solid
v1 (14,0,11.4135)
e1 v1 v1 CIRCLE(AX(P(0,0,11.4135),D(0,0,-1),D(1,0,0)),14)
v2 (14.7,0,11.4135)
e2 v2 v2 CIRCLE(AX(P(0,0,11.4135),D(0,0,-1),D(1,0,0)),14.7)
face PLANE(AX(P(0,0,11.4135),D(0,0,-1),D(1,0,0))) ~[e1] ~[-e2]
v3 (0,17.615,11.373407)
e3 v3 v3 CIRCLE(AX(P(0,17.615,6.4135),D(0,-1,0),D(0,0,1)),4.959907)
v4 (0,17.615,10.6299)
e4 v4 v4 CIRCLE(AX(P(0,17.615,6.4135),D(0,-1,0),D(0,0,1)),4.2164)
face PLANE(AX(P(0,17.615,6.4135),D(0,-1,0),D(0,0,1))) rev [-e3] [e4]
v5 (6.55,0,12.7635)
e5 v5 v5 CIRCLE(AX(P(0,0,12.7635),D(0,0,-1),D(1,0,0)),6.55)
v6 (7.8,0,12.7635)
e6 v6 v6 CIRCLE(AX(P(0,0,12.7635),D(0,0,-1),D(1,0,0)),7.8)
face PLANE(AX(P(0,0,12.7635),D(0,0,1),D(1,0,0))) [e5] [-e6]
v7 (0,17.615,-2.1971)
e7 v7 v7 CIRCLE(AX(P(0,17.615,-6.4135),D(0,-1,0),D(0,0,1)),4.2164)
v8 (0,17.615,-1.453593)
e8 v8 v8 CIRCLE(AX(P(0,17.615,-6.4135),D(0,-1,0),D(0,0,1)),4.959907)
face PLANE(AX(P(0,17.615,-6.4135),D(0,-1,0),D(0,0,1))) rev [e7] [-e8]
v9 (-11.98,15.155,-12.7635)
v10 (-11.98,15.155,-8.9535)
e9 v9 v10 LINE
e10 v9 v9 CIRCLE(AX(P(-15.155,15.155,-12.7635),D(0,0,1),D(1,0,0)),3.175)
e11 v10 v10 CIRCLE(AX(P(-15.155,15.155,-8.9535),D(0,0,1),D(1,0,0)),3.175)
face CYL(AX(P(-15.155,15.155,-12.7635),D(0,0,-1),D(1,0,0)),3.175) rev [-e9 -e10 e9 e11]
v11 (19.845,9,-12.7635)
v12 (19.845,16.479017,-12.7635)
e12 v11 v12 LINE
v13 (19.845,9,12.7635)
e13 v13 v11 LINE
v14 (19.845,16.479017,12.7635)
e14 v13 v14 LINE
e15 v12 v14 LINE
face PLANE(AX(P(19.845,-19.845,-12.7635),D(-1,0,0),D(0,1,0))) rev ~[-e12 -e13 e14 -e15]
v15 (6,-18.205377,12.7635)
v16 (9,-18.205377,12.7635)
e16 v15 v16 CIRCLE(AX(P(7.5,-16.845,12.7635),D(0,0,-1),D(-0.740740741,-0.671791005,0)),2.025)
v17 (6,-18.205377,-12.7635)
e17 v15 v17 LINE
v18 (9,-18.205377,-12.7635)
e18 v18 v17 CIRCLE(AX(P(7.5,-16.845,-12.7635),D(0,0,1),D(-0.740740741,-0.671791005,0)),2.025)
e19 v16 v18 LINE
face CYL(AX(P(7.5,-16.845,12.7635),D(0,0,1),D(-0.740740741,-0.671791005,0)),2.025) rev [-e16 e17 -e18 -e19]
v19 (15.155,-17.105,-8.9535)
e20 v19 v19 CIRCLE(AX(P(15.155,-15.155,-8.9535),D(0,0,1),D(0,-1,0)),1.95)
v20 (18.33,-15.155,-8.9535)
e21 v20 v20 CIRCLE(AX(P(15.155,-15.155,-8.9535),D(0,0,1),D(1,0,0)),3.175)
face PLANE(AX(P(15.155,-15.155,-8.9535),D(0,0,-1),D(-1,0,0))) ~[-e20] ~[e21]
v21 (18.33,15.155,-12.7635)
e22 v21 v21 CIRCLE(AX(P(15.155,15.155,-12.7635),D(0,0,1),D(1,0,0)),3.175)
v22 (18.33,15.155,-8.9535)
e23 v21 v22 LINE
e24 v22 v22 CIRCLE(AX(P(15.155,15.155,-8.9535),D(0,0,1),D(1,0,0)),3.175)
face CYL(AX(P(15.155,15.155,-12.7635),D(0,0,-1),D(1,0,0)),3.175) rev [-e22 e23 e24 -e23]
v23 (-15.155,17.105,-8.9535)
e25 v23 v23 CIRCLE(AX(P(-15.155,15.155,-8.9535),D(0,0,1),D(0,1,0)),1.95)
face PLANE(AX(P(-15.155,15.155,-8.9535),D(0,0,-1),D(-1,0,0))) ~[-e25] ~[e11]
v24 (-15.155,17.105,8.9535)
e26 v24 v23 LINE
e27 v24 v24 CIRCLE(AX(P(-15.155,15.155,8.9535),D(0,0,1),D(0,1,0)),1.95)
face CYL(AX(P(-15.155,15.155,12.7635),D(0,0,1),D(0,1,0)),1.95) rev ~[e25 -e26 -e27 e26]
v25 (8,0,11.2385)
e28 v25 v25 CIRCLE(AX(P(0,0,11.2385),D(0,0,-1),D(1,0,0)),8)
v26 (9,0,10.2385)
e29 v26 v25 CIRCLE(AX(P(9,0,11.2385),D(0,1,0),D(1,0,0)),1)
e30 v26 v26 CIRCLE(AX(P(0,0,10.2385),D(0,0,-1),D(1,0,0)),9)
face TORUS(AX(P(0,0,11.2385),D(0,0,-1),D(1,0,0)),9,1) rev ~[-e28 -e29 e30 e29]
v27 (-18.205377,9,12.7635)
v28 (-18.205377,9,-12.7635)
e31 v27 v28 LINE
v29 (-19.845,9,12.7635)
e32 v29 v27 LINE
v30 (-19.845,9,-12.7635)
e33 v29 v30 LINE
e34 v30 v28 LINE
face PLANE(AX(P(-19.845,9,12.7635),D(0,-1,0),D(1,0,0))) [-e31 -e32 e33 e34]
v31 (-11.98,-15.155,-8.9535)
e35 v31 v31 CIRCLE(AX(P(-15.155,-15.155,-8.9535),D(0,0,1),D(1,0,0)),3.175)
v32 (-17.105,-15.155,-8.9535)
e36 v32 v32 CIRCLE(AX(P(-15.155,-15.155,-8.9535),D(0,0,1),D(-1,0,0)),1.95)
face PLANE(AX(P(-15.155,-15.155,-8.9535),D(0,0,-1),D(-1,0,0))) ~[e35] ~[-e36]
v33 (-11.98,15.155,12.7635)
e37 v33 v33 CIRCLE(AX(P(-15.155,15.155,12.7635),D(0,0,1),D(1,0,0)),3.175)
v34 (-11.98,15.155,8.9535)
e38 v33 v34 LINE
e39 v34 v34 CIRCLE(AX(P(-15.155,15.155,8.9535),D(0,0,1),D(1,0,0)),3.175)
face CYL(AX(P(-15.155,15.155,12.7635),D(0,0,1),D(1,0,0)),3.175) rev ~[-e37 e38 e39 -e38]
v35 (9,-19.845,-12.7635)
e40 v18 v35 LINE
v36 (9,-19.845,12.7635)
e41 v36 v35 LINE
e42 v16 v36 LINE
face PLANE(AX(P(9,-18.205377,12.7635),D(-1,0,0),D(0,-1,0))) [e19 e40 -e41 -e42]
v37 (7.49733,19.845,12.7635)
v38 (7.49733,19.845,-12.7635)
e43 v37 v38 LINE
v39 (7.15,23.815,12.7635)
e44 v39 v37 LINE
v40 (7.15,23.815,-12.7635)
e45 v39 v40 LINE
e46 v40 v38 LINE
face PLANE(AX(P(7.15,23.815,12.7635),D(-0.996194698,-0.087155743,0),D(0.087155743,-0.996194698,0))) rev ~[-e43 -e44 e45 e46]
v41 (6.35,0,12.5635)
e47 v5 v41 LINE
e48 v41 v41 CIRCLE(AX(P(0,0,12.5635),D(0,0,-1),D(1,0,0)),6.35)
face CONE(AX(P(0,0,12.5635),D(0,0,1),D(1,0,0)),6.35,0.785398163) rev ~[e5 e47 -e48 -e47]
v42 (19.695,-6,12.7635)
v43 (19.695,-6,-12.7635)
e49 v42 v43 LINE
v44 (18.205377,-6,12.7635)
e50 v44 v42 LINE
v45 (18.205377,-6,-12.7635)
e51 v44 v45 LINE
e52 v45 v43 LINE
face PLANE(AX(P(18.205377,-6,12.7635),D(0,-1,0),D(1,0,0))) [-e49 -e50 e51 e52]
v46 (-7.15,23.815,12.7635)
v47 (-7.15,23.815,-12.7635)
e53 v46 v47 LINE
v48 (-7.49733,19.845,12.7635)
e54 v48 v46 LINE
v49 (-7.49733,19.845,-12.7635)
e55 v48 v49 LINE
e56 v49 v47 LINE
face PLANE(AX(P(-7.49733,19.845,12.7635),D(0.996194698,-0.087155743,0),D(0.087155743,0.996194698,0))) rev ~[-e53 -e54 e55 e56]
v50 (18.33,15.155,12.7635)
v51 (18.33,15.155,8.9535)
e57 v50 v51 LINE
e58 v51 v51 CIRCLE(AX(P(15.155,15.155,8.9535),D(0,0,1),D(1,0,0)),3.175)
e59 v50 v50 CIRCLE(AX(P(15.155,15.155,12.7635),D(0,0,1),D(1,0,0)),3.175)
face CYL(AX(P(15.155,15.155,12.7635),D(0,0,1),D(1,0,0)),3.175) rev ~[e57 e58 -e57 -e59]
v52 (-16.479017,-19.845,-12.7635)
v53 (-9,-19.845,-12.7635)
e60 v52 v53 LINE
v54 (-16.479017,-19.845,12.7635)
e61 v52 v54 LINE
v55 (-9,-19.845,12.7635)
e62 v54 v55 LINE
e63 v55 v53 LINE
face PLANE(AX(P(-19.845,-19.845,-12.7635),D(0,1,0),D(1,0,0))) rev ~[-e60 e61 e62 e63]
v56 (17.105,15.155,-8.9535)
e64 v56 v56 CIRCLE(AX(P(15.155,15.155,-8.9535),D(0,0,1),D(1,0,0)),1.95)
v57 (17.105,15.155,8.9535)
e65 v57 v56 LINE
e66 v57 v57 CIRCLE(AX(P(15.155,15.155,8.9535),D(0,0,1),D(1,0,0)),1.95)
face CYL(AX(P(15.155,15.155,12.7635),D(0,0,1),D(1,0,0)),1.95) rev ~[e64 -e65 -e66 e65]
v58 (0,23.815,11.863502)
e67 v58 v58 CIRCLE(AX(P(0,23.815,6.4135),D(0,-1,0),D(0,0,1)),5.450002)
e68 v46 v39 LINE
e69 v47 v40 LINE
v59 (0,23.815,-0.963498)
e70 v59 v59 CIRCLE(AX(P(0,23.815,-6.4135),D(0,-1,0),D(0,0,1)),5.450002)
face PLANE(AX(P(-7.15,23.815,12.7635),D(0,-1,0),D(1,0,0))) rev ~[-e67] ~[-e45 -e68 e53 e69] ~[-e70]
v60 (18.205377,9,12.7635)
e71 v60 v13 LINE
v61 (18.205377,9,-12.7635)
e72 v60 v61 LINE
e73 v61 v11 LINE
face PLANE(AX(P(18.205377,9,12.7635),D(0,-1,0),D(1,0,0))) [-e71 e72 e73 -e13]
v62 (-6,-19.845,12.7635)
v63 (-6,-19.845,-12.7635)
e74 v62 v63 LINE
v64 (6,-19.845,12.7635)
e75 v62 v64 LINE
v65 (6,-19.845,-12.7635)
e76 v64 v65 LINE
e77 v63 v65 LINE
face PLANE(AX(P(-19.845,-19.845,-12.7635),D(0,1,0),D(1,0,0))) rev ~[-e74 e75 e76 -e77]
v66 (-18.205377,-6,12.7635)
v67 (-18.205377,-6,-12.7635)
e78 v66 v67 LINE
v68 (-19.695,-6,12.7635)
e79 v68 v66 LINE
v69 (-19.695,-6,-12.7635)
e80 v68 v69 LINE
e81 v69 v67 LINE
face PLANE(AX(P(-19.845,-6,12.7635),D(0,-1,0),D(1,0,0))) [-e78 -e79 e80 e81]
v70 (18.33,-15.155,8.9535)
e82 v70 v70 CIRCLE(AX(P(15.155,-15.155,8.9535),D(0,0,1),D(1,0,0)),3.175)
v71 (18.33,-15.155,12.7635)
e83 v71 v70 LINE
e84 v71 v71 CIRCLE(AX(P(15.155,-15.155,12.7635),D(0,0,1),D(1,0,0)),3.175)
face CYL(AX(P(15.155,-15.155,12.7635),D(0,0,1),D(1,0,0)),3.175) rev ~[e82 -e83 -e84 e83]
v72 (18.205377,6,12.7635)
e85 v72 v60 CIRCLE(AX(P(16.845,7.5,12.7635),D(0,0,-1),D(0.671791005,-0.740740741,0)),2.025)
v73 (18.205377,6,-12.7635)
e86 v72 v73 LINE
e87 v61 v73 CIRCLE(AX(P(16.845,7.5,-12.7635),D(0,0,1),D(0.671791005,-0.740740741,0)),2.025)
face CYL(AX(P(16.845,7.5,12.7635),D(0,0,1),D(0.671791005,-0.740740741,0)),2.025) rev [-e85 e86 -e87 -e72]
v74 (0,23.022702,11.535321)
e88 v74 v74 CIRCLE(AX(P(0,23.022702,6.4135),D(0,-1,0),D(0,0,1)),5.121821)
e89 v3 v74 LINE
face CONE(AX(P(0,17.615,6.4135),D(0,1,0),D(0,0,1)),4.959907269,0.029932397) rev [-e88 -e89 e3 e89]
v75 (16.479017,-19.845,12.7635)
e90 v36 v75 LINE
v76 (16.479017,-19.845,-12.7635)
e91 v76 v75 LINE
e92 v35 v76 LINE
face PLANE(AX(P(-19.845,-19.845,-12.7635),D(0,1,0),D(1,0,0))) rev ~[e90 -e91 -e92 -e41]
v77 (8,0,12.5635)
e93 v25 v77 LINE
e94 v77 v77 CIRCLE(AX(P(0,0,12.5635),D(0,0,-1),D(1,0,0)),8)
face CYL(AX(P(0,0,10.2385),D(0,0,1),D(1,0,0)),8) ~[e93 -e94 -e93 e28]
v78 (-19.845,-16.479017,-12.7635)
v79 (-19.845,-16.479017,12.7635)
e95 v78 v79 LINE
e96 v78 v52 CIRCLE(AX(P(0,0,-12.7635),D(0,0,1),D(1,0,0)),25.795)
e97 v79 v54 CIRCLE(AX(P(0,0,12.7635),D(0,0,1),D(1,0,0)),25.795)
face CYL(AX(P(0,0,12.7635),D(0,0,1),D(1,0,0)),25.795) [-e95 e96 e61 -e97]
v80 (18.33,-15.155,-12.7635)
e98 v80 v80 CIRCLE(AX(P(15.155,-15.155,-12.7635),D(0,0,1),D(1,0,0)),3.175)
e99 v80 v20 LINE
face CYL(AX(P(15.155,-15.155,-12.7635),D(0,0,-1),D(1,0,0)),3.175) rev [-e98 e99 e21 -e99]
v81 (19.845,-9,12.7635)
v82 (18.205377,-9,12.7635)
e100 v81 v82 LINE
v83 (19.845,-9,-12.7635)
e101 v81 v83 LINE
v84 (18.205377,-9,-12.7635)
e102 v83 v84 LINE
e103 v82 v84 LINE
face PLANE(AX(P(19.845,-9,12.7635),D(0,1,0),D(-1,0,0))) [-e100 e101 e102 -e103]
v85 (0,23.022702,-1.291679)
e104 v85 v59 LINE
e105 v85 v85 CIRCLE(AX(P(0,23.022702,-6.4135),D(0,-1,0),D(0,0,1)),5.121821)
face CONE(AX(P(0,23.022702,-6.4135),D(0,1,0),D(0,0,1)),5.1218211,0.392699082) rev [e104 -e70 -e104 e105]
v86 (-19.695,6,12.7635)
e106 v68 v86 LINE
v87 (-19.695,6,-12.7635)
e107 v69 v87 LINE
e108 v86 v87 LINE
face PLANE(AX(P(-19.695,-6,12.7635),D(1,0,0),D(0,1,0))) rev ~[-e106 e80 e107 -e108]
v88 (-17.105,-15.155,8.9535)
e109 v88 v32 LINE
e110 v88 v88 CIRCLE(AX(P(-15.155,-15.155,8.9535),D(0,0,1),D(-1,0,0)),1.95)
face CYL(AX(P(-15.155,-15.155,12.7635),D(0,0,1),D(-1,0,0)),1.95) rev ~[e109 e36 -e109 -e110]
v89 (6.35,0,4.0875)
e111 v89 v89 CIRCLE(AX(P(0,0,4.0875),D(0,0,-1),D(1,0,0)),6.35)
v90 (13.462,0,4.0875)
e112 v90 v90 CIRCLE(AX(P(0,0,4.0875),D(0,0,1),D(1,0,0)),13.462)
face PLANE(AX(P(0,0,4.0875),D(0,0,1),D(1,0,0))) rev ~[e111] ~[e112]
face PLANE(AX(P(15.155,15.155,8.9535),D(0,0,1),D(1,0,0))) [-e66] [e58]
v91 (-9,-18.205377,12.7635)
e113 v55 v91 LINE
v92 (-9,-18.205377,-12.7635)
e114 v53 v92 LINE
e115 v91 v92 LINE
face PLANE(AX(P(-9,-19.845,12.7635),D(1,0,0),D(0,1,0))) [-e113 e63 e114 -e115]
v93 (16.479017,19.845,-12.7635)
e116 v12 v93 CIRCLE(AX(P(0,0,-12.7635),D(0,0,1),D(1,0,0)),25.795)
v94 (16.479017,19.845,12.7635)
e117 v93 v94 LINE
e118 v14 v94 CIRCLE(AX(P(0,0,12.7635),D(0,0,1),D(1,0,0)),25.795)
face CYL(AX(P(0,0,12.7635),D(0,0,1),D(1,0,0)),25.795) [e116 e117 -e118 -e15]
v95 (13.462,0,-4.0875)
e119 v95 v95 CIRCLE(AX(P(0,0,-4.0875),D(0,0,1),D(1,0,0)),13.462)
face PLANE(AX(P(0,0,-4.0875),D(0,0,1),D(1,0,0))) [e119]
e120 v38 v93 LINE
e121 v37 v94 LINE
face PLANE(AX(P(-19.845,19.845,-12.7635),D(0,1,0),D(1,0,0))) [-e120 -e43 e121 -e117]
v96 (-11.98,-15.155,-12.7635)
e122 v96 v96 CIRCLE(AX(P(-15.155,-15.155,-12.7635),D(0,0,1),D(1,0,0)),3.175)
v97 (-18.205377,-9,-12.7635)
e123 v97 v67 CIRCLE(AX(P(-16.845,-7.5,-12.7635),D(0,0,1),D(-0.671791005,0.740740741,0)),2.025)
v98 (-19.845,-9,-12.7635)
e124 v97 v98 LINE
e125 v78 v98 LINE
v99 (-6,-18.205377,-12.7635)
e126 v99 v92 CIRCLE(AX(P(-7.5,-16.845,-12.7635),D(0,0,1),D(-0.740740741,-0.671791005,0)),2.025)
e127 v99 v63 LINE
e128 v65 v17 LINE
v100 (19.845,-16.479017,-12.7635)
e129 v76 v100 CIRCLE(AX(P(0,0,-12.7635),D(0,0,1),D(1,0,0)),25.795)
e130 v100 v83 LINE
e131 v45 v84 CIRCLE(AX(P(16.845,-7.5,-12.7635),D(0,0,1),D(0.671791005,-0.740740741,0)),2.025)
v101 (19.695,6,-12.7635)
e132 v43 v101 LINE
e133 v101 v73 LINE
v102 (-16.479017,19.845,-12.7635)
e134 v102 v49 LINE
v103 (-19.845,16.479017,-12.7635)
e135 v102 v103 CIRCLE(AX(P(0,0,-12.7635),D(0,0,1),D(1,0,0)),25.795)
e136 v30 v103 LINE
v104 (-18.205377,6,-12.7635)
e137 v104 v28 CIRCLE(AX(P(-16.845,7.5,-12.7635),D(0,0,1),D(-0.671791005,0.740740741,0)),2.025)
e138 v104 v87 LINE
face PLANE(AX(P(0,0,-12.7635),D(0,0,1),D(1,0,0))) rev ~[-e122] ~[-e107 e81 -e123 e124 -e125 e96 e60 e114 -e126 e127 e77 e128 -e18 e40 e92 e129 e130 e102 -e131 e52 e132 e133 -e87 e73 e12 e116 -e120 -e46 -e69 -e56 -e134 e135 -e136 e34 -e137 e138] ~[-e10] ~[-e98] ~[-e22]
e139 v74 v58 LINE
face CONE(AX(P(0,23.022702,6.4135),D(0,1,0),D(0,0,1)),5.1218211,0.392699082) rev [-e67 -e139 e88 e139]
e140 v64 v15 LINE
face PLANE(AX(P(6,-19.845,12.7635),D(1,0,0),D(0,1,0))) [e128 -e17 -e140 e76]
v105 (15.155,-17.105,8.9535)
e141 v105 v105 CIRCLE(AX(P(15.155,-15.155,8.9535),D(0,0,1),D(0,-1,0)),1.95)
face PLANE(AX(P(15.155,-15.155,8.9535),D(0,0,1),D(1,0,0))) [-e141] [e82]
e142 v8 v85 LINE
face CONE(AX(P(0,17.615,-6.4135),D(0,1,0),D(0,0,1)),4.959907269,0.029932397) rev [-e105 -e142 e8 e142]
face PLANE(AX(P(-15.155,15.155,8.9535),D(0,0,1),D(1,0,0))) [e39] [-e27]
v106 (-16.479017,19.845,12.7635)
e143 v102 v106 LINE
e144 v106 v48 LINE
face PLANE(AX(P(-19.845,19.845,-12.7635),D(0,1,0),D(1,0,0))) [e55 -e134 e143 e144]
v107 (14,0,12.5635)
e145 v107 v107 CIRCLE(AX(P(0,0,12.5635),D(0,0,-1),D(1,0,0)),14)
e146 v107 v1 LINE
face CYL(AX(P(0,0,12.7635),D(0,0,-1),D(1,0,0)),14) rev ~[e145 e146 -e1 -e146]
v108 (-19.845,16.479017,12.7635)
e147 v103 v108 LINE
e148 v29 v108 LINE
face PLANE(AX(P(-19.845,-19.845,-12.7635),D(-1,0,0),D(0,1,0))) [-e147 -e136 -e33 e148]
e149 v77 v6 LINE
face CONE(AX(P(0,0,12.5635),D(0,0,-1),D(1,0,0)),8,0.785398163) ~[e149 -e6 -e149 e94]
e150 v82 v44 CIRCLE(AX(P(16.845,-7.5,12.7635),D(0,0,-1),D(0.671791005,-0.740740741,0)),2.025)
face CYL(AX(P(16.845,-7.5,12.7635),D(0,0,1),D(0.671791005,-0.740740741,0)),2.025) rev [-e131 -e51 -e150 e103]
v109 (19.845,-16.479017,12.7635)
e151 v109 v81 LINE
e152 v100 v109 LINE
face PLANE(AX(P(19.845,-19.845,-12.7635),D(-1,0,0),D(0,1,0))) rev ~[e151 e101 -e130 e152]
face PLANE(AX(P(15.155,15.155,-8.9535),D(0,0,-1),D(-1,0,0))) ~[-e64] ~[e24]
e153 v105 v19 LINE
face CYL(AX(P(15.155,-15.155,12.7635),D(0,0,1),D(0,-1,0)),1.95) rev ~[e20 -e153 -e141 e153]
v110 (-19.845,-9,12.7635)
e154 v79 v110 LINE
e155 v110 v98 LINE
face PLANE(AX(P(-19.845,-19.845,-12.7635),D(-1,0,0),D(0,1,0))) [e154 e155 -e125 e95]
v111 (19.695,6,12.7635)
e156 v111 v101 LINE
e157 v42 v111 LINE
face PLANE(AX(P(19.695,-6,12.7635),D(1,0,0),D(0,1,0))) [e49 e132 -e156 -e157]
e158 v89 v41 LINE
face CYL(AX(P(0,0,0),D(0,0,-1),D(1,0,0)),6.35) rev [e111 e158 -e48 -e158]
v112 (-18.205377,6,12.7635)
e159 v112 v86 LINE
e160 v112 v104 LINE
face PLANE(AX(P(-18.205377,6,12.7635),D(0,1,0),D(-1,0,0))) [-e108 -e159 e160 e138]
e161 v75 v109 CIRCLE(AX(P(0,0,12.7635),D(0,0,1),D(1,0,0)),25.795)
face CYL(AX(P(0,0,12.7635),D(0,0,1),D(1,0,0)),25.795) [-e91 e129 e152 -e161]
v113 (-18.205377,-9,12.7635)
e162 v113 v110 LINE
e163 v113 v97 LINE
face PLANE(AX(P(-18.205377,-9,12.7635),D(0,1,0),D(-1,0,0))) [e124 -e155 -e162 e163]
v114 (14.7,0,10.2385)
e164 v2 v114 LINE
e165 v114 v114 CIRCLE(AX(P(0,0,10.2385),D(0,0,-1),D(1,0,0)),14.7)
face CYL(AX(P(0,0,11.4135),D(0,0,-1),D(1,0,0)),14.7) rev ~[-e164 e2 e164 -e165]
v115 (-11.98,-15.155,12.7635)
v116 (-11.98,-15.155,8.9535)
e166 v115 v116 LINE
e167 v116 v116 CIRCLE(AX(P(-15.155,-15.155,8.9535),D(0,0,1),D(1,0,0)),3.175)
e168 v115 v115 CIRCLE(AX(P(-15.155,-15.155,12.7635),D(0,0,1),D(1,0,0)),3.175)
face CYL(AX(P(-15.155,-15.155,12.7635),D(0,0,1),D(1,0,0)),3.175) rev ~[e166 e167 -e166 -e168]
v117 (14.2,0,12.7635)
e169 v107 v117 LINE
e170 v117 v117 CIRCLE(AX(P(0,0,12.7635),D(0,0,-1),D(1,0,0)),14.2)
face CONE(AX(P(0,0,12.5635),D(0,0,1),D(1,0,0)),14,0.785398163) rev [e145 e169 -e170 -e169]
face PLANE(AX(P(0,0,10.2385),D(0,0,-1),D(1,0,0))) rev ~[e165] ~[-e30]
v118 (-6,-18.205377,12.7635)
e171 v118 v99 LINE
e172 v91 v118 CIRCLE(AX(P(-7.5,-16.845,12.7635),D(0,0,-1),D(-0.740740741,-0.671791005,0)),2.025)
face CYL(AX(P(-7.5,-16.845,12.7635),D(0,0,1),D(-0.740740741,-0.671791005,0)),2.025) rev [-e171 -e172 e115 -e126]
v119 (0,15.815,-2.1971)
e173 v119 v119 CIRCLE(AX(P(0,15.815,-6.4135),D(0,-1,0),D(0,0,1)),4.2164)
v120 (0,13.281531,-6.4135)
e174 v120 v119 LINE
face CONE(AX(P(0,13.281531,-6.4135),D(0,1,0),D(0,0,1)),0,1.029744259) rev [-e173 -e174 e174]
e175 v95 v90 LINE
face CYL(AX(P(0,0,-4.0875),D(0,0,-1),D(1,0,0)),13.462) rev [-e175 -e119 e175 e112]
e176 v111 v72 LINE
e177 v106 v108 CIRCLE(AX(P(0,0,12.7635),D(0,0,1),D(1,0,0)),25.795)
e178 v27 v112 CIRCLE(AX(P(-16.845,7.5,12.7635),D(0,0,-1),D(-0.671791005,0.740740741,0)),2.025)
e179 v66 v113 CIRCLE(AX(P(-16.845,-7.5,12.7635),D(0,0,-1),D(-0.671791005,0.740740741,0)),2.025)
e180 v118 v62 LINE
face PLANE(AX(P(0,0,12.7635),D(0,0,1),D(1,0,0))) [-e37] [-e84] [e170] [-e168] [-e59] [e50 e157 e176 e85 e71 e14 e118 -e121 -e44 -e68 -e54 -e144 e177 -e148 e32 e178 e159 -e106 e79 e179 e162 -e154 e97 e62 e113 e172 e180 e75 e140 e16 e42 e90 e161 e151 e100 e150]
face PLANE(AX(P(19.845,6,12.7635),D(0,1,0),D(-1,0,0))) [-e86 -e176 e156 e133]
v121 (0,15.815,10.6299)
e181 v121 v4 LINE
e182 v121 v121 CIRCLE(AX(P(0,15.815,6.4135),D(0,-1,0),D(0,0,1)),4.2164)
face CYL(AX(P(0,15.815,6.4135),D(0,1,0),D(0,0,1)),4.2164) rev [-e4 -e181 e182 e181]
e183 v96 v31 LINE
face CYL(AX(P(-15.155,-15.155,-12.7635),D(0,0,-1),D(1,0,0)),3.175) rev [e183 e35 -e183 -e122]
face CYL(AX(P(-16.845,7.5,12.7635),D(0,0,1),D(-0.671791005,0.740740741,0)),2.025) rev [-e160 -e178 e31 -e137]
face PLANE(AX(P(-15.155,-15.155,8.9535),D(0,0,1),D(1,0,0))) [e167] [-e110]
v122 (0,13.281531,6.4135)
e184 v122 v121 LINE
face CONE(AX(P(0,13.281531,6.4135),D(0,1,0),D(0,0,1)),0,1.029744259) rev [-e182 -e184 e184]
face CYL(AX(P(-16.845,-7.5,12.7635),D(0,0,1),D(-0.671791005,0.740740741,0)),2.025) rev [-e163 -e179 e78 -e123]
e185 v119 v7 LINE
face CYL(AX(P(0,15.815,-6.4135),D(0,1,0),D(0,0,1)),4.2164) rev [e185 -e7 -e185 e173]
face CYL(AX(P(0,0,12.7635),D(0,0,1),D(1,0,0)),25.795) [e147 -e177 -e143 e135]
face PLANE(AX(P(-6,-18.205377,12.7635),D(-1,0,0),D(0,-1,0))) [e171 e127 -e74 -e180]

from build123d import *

# Parameters (mm, degrees)
EXTRUDE1_DEPTH                               = 12.7635
EXTRUDE1_DEPTH_BACK                          = 12.7635
SKETCH1_W                                    = 39.69
SKETCH1_H                                    = 39.69
F_056_250_NOSE_CHAMFER_R                     = 1
SKETCH13_R                                   = 28.065068145
SKETCH13_R_2                                 = 25.795
F_075_250_TUBE_EDGE_ROUNDOVER_DEPTH          = 38.937788272
F_075_250_PORT_BOSS_DEPTH                    = 25.527
F_106_200_PORT_1_8_NPT_AT_2_COUNT            = 2
F_106_200_PORT_1_8_NPT_AT_2_PITCH            = 12.827
F_075_250_SWITCH_GROOVE_DEPTH                = 41.157265582
F_075_106_SWITCH_GROOVE_CIRC_PATTERN_COUNT   = 3
F_075_106_SWITCH_GROOVE_CIRC_PATTERN_ANGLE   = 180
SKETCH19_W                                   = 0.15
SKETCH19_H                                   = 12
F_075_250_THIN_SIDE_CUTS_DEPTH               = 41.157265582
SKETCH20_R                                   = 1.95
F_075_250_MOUNT_THRU_HOLE_DEPTH              = 41.157265582
F_075_250_MOUNT_THRU_HOLE_CIRC_PATTERN_COUNT = 4
SKETCH21_R                                   = 3.175
F_075_250_B_MOUNT_CBORE_ROD_END_DEPTH        = 3.81
F_056_250_START                              = -4.0875
SKETCH22_R                                   = 13.462
F_056_250_STROKE_CHAMBER_DEPTH               = 8.175
SKETCH23_R                                   = 6.35
F_056_250_ROD_THRU_BORE_DEPTH                = 34.524396822
F_056_250_COLLAR_CHAMFER_SIZE                = 0.2


with BuildPart() as part:
    # Sketch1 → Extrude1 (new, two sides: drawn at the far end of the back side and taken through both)
    with BuildSketch(Plane.XY.offset(-EXTRUDE1_DEPTH_BACK)):
        Rectangle(SKETCH1_W, SKETCH1_H)
    extrude(amount=EXTRUDE1_DEPTH + EXTRUDE1_DEPTH_BACK)

    # Sketch33 → 056-250 Front Recess (revolve, cut)
    with BuildSketch(Plane(origin=(0, 0, 0), x_dir=(0, 0, -1), z_dir=(1, 0, 0)), mode=Mode.PRIVATE) as f_056_250_front_recess_sk:
        Polygon((-12.7635, 14), (-11.4135, 14), (-11.4135, 14.7), (-10.2385, 14.7), (-10.2385, 8), (-12.7635, 8), align=None)
    revolve(f_056_250_front_recess_sk.sketch.rotate(Axis((0, 0, 61.220394237), (0, 0, -1)), 90), axis=Axis((0, 0, 61.220394237), (0, 0, -1)), mode=Mode.SUBTRACT)

    # 056-250 Nose Chamfer
    f_056_250_nose_chamfer_edges = [part.edges().sort_by_distance(p)[0] for p in [
        (-8, 0, 10.2385),
    ]]
    fillet(f_056_250_nose_chamfer_edges, radius=F_056_250_NOSE_CHAMFER_R)

    # Sketch13 → 075-250 Tube Edge Roundover (cut, through all)
    with BuildSketch(Plane.XY.offset(12.7635)):
        Circle(SKETCH13_R)
        Circle(SKETCH13_R_2, mode=Mode.SUBTRACT)
    extrude(amount=-F_075_250_TUBE_EDGE_ROUNDOVER_DEPTH, mode=Mode.SUBTRACT)

    # Sketch14 → 075-250 Port Boss (add)
    with BuildSketch(Plane.XY.offset(12.7635)):
        Polygon((-7.15, 23.815), (7.15, 23.815), (7.497329994, 19.845), (-7.497329994, 19.845), align=None)
    extrude(amount=-F_075_250_PORT_BOSS_DEPTH)

    # Sketch36 → 106-200 Port 1/8 NPT (revolve, cut)
    with BuildSketch(Plane(origin=(0, 23.815, 6.4135), x_dir=(0, 0, 1), z_dir=(1, 0, 0))):
        Polygon((0, 0), (0, 10.533468714), (4.2164, 8), (4.2164, 6.2), (4.959907269, 6.2), (5.1218211, 0.792298297), (5.4500018, 0), align=None)
    f_106_200_port_1_8_npt = revolve(axis=Axis((0, 30.165, 6.4135), (0, -1, 0)), mode=Mode.SUBTRACT)

    # 106-200 Port 1/8 NPT at 2: 106-200 Port 1/8 NPT ×2
    with Locations(*[(0, 0, -i * F_106_200_PORT_1_8_NPT_AT_2_PITCH) for i in range(1, F_106_200_PORT_1_8_NPT_AT_2_COUNT)]):
        add(f_106_200_port_1_8_npt, mode=Mode.SUBTRACT)

    # Sketch15 → 075-250 Switch Groove (cut, through all)
    with BuildSketch(Plane.XY.offset(12.7635)):
        with BuildLine():
            Line((-19.845, 9), (-18.205376786, 9))
            ThreePointArc((-18.205376786, 9), (-14.82, 7.5), (-18.205376786, 6))
            Line((-18.205376786, 6), (-19.845, 6))
            Line((-19.845, 6), (-19.845, 9))
        make_face()
        with BuildLine():
            Line((-19.845, -9), (-19.845, -6))
            Line((-19.845, -6), (-18.205376786, -6))
            ThreePointArc((-18.205376786, -6), (-14.82, -7.5), (-18.205376786, -9))
            Line((-18.205376786, -9), (-19.845, -9))
        make_face()
    f_075_250_switch_groove = extrude(amount=-F_075_250_SWITCH_GROOVE_DEPTH, mode=Mode.SUBTRACT)

    # 075-106 Switch Groove Circ Pattern: 075-250 Switch Groove ×3 about axis
    f_075_106_switch_groove_circ_pattern_axis = Axis((0, 0, 0), (0, 0, 1))
    for i in range(1, F_075_106_SWITCH_GROOVE_CIRC_PATTERN_COUNT):
        add(f_075_250_switch_groove.rotate(f_075_106_switch_groove_circ_pattern_axis, i * F_075_106_SWITCH_GROOVE_CIRC_PATTERN_ANGLE / (F_075_106_SWITCH_GROOVE_CIRC_PATTERN_COUNT - 1)), mode=Mode.SUBTRACT)

    # Sketch19 → 075-250 Thin Side Cuts (cut, through all)
    with BuildSketch(Plane.XY.offset(12.7635)):
        with Locations((19.77, 0)):
            Rectangle(SKETCH19_W, SKETCH19_H)
        with Locations((-19.77, 0)):
            Rectangle(SKETCH19_W, SKETCH19_H)
    extrude(amount=-F_075_250_THIN_SIDE_CUTS_DEPTH, mode=Mode.SUBTRACT)

    # Sketch20 → 075-250 Mount Thru Hole (cut, through all)
    with BuildSketch(Plane.XY.offset(12.7635)):
        with Locations((15.155, 15.155)):
            Circle(SKETCH20_R)
    f_075_250_mount_thru_hole = extrude(amount=-F_075_250_MOUNT_THRU_HOLE_DEPTH, mode=Mode.SUBTRACT)

    # 075-250 Mount Thru Hole Circ Pattern: 075-250 Mount Thru Hole ×4 about axis
    f_075_250_mount_thru_hole_circ_pattern_axis = Axis((0, 0, 0), (0, 0, 1))
    for i in range(1, F_075_250_MOUNT_THRU_HOLE_CIRC_PATTERN_COUNT):
        add(f_075_250_mount_thru_hole.rotate(f_075_250_mount_thru_hole_circ_pattern_axis, i * 360 / F_075_250_MOUNT_THRU_HOLE_CIRC_PATTERN_COUNT), mode=Mode.SUBTRACT)

    # Sketch21 → 075-250 B Mount CBore Rod End (cut)
    with BuildSketch(Plane.XY.offset(12.7635)):
        with Locations((-15.155, 15.155)):
            Circle(SKETCH21_R)
        with Locations((-15.155, -15.155)):
            Circle(SKETCH21_R)
        with Locations((15.155, 15.155)):
            Circle(SKETCH21_R)
        with Locations((15.155, -15.155)):
            Circle(SKETCH21_R)
    f_075_250_b_mount_cbore_rod_end = extrude(amount=-F_075_250_B_MOUNT_CBORE_ROD_END_DEPTH, mode=Mode.SUBTRACT)

    # 075-250 B Mount CBore Non-Rod End: 075-250 B Mount CBore Rod End across plane
    add(f_075_250_b_mount_cbore_rod_end.mirror(Plane.XY), mode=Mode.SUBTRACT)

    # Sketch22 → 056-250 Stroke Chamber (cut)
    with BuildSketch(Plane.XY.offset(F_056_250_START)):
        Circle(SKETCH22_R)
    extrude(amount=F_056_250_STROKE_CHAMBER_DEPTH, mode=Mode.SUBTRACT)

    # Sketch23 → 056-250 Rod Thru Bore (cut, through all)
    with BuildSketch(Plane.XY):
        Circle(SKETCH23_R)
    extrude(amount=F_056_250_ROD_THRU_BORE_DEPTH, mode=Mode.SUBTRACT)

    # 056-250 Collar Chamfer
    f_056_250_collar_chamfer_edges = [part.edges().sort_by_distance(p)[0] for p in [
        (-14, 0, 12.7635),
        (-8, 0, 12.7635),
        (-6.35, 0, 12.7635),
    ]]
    chamfer(f_056_250_collar_chamfer_edges, length=F_056_250_COLLAR_CHAMFER_SIZE)


solid = part.part
